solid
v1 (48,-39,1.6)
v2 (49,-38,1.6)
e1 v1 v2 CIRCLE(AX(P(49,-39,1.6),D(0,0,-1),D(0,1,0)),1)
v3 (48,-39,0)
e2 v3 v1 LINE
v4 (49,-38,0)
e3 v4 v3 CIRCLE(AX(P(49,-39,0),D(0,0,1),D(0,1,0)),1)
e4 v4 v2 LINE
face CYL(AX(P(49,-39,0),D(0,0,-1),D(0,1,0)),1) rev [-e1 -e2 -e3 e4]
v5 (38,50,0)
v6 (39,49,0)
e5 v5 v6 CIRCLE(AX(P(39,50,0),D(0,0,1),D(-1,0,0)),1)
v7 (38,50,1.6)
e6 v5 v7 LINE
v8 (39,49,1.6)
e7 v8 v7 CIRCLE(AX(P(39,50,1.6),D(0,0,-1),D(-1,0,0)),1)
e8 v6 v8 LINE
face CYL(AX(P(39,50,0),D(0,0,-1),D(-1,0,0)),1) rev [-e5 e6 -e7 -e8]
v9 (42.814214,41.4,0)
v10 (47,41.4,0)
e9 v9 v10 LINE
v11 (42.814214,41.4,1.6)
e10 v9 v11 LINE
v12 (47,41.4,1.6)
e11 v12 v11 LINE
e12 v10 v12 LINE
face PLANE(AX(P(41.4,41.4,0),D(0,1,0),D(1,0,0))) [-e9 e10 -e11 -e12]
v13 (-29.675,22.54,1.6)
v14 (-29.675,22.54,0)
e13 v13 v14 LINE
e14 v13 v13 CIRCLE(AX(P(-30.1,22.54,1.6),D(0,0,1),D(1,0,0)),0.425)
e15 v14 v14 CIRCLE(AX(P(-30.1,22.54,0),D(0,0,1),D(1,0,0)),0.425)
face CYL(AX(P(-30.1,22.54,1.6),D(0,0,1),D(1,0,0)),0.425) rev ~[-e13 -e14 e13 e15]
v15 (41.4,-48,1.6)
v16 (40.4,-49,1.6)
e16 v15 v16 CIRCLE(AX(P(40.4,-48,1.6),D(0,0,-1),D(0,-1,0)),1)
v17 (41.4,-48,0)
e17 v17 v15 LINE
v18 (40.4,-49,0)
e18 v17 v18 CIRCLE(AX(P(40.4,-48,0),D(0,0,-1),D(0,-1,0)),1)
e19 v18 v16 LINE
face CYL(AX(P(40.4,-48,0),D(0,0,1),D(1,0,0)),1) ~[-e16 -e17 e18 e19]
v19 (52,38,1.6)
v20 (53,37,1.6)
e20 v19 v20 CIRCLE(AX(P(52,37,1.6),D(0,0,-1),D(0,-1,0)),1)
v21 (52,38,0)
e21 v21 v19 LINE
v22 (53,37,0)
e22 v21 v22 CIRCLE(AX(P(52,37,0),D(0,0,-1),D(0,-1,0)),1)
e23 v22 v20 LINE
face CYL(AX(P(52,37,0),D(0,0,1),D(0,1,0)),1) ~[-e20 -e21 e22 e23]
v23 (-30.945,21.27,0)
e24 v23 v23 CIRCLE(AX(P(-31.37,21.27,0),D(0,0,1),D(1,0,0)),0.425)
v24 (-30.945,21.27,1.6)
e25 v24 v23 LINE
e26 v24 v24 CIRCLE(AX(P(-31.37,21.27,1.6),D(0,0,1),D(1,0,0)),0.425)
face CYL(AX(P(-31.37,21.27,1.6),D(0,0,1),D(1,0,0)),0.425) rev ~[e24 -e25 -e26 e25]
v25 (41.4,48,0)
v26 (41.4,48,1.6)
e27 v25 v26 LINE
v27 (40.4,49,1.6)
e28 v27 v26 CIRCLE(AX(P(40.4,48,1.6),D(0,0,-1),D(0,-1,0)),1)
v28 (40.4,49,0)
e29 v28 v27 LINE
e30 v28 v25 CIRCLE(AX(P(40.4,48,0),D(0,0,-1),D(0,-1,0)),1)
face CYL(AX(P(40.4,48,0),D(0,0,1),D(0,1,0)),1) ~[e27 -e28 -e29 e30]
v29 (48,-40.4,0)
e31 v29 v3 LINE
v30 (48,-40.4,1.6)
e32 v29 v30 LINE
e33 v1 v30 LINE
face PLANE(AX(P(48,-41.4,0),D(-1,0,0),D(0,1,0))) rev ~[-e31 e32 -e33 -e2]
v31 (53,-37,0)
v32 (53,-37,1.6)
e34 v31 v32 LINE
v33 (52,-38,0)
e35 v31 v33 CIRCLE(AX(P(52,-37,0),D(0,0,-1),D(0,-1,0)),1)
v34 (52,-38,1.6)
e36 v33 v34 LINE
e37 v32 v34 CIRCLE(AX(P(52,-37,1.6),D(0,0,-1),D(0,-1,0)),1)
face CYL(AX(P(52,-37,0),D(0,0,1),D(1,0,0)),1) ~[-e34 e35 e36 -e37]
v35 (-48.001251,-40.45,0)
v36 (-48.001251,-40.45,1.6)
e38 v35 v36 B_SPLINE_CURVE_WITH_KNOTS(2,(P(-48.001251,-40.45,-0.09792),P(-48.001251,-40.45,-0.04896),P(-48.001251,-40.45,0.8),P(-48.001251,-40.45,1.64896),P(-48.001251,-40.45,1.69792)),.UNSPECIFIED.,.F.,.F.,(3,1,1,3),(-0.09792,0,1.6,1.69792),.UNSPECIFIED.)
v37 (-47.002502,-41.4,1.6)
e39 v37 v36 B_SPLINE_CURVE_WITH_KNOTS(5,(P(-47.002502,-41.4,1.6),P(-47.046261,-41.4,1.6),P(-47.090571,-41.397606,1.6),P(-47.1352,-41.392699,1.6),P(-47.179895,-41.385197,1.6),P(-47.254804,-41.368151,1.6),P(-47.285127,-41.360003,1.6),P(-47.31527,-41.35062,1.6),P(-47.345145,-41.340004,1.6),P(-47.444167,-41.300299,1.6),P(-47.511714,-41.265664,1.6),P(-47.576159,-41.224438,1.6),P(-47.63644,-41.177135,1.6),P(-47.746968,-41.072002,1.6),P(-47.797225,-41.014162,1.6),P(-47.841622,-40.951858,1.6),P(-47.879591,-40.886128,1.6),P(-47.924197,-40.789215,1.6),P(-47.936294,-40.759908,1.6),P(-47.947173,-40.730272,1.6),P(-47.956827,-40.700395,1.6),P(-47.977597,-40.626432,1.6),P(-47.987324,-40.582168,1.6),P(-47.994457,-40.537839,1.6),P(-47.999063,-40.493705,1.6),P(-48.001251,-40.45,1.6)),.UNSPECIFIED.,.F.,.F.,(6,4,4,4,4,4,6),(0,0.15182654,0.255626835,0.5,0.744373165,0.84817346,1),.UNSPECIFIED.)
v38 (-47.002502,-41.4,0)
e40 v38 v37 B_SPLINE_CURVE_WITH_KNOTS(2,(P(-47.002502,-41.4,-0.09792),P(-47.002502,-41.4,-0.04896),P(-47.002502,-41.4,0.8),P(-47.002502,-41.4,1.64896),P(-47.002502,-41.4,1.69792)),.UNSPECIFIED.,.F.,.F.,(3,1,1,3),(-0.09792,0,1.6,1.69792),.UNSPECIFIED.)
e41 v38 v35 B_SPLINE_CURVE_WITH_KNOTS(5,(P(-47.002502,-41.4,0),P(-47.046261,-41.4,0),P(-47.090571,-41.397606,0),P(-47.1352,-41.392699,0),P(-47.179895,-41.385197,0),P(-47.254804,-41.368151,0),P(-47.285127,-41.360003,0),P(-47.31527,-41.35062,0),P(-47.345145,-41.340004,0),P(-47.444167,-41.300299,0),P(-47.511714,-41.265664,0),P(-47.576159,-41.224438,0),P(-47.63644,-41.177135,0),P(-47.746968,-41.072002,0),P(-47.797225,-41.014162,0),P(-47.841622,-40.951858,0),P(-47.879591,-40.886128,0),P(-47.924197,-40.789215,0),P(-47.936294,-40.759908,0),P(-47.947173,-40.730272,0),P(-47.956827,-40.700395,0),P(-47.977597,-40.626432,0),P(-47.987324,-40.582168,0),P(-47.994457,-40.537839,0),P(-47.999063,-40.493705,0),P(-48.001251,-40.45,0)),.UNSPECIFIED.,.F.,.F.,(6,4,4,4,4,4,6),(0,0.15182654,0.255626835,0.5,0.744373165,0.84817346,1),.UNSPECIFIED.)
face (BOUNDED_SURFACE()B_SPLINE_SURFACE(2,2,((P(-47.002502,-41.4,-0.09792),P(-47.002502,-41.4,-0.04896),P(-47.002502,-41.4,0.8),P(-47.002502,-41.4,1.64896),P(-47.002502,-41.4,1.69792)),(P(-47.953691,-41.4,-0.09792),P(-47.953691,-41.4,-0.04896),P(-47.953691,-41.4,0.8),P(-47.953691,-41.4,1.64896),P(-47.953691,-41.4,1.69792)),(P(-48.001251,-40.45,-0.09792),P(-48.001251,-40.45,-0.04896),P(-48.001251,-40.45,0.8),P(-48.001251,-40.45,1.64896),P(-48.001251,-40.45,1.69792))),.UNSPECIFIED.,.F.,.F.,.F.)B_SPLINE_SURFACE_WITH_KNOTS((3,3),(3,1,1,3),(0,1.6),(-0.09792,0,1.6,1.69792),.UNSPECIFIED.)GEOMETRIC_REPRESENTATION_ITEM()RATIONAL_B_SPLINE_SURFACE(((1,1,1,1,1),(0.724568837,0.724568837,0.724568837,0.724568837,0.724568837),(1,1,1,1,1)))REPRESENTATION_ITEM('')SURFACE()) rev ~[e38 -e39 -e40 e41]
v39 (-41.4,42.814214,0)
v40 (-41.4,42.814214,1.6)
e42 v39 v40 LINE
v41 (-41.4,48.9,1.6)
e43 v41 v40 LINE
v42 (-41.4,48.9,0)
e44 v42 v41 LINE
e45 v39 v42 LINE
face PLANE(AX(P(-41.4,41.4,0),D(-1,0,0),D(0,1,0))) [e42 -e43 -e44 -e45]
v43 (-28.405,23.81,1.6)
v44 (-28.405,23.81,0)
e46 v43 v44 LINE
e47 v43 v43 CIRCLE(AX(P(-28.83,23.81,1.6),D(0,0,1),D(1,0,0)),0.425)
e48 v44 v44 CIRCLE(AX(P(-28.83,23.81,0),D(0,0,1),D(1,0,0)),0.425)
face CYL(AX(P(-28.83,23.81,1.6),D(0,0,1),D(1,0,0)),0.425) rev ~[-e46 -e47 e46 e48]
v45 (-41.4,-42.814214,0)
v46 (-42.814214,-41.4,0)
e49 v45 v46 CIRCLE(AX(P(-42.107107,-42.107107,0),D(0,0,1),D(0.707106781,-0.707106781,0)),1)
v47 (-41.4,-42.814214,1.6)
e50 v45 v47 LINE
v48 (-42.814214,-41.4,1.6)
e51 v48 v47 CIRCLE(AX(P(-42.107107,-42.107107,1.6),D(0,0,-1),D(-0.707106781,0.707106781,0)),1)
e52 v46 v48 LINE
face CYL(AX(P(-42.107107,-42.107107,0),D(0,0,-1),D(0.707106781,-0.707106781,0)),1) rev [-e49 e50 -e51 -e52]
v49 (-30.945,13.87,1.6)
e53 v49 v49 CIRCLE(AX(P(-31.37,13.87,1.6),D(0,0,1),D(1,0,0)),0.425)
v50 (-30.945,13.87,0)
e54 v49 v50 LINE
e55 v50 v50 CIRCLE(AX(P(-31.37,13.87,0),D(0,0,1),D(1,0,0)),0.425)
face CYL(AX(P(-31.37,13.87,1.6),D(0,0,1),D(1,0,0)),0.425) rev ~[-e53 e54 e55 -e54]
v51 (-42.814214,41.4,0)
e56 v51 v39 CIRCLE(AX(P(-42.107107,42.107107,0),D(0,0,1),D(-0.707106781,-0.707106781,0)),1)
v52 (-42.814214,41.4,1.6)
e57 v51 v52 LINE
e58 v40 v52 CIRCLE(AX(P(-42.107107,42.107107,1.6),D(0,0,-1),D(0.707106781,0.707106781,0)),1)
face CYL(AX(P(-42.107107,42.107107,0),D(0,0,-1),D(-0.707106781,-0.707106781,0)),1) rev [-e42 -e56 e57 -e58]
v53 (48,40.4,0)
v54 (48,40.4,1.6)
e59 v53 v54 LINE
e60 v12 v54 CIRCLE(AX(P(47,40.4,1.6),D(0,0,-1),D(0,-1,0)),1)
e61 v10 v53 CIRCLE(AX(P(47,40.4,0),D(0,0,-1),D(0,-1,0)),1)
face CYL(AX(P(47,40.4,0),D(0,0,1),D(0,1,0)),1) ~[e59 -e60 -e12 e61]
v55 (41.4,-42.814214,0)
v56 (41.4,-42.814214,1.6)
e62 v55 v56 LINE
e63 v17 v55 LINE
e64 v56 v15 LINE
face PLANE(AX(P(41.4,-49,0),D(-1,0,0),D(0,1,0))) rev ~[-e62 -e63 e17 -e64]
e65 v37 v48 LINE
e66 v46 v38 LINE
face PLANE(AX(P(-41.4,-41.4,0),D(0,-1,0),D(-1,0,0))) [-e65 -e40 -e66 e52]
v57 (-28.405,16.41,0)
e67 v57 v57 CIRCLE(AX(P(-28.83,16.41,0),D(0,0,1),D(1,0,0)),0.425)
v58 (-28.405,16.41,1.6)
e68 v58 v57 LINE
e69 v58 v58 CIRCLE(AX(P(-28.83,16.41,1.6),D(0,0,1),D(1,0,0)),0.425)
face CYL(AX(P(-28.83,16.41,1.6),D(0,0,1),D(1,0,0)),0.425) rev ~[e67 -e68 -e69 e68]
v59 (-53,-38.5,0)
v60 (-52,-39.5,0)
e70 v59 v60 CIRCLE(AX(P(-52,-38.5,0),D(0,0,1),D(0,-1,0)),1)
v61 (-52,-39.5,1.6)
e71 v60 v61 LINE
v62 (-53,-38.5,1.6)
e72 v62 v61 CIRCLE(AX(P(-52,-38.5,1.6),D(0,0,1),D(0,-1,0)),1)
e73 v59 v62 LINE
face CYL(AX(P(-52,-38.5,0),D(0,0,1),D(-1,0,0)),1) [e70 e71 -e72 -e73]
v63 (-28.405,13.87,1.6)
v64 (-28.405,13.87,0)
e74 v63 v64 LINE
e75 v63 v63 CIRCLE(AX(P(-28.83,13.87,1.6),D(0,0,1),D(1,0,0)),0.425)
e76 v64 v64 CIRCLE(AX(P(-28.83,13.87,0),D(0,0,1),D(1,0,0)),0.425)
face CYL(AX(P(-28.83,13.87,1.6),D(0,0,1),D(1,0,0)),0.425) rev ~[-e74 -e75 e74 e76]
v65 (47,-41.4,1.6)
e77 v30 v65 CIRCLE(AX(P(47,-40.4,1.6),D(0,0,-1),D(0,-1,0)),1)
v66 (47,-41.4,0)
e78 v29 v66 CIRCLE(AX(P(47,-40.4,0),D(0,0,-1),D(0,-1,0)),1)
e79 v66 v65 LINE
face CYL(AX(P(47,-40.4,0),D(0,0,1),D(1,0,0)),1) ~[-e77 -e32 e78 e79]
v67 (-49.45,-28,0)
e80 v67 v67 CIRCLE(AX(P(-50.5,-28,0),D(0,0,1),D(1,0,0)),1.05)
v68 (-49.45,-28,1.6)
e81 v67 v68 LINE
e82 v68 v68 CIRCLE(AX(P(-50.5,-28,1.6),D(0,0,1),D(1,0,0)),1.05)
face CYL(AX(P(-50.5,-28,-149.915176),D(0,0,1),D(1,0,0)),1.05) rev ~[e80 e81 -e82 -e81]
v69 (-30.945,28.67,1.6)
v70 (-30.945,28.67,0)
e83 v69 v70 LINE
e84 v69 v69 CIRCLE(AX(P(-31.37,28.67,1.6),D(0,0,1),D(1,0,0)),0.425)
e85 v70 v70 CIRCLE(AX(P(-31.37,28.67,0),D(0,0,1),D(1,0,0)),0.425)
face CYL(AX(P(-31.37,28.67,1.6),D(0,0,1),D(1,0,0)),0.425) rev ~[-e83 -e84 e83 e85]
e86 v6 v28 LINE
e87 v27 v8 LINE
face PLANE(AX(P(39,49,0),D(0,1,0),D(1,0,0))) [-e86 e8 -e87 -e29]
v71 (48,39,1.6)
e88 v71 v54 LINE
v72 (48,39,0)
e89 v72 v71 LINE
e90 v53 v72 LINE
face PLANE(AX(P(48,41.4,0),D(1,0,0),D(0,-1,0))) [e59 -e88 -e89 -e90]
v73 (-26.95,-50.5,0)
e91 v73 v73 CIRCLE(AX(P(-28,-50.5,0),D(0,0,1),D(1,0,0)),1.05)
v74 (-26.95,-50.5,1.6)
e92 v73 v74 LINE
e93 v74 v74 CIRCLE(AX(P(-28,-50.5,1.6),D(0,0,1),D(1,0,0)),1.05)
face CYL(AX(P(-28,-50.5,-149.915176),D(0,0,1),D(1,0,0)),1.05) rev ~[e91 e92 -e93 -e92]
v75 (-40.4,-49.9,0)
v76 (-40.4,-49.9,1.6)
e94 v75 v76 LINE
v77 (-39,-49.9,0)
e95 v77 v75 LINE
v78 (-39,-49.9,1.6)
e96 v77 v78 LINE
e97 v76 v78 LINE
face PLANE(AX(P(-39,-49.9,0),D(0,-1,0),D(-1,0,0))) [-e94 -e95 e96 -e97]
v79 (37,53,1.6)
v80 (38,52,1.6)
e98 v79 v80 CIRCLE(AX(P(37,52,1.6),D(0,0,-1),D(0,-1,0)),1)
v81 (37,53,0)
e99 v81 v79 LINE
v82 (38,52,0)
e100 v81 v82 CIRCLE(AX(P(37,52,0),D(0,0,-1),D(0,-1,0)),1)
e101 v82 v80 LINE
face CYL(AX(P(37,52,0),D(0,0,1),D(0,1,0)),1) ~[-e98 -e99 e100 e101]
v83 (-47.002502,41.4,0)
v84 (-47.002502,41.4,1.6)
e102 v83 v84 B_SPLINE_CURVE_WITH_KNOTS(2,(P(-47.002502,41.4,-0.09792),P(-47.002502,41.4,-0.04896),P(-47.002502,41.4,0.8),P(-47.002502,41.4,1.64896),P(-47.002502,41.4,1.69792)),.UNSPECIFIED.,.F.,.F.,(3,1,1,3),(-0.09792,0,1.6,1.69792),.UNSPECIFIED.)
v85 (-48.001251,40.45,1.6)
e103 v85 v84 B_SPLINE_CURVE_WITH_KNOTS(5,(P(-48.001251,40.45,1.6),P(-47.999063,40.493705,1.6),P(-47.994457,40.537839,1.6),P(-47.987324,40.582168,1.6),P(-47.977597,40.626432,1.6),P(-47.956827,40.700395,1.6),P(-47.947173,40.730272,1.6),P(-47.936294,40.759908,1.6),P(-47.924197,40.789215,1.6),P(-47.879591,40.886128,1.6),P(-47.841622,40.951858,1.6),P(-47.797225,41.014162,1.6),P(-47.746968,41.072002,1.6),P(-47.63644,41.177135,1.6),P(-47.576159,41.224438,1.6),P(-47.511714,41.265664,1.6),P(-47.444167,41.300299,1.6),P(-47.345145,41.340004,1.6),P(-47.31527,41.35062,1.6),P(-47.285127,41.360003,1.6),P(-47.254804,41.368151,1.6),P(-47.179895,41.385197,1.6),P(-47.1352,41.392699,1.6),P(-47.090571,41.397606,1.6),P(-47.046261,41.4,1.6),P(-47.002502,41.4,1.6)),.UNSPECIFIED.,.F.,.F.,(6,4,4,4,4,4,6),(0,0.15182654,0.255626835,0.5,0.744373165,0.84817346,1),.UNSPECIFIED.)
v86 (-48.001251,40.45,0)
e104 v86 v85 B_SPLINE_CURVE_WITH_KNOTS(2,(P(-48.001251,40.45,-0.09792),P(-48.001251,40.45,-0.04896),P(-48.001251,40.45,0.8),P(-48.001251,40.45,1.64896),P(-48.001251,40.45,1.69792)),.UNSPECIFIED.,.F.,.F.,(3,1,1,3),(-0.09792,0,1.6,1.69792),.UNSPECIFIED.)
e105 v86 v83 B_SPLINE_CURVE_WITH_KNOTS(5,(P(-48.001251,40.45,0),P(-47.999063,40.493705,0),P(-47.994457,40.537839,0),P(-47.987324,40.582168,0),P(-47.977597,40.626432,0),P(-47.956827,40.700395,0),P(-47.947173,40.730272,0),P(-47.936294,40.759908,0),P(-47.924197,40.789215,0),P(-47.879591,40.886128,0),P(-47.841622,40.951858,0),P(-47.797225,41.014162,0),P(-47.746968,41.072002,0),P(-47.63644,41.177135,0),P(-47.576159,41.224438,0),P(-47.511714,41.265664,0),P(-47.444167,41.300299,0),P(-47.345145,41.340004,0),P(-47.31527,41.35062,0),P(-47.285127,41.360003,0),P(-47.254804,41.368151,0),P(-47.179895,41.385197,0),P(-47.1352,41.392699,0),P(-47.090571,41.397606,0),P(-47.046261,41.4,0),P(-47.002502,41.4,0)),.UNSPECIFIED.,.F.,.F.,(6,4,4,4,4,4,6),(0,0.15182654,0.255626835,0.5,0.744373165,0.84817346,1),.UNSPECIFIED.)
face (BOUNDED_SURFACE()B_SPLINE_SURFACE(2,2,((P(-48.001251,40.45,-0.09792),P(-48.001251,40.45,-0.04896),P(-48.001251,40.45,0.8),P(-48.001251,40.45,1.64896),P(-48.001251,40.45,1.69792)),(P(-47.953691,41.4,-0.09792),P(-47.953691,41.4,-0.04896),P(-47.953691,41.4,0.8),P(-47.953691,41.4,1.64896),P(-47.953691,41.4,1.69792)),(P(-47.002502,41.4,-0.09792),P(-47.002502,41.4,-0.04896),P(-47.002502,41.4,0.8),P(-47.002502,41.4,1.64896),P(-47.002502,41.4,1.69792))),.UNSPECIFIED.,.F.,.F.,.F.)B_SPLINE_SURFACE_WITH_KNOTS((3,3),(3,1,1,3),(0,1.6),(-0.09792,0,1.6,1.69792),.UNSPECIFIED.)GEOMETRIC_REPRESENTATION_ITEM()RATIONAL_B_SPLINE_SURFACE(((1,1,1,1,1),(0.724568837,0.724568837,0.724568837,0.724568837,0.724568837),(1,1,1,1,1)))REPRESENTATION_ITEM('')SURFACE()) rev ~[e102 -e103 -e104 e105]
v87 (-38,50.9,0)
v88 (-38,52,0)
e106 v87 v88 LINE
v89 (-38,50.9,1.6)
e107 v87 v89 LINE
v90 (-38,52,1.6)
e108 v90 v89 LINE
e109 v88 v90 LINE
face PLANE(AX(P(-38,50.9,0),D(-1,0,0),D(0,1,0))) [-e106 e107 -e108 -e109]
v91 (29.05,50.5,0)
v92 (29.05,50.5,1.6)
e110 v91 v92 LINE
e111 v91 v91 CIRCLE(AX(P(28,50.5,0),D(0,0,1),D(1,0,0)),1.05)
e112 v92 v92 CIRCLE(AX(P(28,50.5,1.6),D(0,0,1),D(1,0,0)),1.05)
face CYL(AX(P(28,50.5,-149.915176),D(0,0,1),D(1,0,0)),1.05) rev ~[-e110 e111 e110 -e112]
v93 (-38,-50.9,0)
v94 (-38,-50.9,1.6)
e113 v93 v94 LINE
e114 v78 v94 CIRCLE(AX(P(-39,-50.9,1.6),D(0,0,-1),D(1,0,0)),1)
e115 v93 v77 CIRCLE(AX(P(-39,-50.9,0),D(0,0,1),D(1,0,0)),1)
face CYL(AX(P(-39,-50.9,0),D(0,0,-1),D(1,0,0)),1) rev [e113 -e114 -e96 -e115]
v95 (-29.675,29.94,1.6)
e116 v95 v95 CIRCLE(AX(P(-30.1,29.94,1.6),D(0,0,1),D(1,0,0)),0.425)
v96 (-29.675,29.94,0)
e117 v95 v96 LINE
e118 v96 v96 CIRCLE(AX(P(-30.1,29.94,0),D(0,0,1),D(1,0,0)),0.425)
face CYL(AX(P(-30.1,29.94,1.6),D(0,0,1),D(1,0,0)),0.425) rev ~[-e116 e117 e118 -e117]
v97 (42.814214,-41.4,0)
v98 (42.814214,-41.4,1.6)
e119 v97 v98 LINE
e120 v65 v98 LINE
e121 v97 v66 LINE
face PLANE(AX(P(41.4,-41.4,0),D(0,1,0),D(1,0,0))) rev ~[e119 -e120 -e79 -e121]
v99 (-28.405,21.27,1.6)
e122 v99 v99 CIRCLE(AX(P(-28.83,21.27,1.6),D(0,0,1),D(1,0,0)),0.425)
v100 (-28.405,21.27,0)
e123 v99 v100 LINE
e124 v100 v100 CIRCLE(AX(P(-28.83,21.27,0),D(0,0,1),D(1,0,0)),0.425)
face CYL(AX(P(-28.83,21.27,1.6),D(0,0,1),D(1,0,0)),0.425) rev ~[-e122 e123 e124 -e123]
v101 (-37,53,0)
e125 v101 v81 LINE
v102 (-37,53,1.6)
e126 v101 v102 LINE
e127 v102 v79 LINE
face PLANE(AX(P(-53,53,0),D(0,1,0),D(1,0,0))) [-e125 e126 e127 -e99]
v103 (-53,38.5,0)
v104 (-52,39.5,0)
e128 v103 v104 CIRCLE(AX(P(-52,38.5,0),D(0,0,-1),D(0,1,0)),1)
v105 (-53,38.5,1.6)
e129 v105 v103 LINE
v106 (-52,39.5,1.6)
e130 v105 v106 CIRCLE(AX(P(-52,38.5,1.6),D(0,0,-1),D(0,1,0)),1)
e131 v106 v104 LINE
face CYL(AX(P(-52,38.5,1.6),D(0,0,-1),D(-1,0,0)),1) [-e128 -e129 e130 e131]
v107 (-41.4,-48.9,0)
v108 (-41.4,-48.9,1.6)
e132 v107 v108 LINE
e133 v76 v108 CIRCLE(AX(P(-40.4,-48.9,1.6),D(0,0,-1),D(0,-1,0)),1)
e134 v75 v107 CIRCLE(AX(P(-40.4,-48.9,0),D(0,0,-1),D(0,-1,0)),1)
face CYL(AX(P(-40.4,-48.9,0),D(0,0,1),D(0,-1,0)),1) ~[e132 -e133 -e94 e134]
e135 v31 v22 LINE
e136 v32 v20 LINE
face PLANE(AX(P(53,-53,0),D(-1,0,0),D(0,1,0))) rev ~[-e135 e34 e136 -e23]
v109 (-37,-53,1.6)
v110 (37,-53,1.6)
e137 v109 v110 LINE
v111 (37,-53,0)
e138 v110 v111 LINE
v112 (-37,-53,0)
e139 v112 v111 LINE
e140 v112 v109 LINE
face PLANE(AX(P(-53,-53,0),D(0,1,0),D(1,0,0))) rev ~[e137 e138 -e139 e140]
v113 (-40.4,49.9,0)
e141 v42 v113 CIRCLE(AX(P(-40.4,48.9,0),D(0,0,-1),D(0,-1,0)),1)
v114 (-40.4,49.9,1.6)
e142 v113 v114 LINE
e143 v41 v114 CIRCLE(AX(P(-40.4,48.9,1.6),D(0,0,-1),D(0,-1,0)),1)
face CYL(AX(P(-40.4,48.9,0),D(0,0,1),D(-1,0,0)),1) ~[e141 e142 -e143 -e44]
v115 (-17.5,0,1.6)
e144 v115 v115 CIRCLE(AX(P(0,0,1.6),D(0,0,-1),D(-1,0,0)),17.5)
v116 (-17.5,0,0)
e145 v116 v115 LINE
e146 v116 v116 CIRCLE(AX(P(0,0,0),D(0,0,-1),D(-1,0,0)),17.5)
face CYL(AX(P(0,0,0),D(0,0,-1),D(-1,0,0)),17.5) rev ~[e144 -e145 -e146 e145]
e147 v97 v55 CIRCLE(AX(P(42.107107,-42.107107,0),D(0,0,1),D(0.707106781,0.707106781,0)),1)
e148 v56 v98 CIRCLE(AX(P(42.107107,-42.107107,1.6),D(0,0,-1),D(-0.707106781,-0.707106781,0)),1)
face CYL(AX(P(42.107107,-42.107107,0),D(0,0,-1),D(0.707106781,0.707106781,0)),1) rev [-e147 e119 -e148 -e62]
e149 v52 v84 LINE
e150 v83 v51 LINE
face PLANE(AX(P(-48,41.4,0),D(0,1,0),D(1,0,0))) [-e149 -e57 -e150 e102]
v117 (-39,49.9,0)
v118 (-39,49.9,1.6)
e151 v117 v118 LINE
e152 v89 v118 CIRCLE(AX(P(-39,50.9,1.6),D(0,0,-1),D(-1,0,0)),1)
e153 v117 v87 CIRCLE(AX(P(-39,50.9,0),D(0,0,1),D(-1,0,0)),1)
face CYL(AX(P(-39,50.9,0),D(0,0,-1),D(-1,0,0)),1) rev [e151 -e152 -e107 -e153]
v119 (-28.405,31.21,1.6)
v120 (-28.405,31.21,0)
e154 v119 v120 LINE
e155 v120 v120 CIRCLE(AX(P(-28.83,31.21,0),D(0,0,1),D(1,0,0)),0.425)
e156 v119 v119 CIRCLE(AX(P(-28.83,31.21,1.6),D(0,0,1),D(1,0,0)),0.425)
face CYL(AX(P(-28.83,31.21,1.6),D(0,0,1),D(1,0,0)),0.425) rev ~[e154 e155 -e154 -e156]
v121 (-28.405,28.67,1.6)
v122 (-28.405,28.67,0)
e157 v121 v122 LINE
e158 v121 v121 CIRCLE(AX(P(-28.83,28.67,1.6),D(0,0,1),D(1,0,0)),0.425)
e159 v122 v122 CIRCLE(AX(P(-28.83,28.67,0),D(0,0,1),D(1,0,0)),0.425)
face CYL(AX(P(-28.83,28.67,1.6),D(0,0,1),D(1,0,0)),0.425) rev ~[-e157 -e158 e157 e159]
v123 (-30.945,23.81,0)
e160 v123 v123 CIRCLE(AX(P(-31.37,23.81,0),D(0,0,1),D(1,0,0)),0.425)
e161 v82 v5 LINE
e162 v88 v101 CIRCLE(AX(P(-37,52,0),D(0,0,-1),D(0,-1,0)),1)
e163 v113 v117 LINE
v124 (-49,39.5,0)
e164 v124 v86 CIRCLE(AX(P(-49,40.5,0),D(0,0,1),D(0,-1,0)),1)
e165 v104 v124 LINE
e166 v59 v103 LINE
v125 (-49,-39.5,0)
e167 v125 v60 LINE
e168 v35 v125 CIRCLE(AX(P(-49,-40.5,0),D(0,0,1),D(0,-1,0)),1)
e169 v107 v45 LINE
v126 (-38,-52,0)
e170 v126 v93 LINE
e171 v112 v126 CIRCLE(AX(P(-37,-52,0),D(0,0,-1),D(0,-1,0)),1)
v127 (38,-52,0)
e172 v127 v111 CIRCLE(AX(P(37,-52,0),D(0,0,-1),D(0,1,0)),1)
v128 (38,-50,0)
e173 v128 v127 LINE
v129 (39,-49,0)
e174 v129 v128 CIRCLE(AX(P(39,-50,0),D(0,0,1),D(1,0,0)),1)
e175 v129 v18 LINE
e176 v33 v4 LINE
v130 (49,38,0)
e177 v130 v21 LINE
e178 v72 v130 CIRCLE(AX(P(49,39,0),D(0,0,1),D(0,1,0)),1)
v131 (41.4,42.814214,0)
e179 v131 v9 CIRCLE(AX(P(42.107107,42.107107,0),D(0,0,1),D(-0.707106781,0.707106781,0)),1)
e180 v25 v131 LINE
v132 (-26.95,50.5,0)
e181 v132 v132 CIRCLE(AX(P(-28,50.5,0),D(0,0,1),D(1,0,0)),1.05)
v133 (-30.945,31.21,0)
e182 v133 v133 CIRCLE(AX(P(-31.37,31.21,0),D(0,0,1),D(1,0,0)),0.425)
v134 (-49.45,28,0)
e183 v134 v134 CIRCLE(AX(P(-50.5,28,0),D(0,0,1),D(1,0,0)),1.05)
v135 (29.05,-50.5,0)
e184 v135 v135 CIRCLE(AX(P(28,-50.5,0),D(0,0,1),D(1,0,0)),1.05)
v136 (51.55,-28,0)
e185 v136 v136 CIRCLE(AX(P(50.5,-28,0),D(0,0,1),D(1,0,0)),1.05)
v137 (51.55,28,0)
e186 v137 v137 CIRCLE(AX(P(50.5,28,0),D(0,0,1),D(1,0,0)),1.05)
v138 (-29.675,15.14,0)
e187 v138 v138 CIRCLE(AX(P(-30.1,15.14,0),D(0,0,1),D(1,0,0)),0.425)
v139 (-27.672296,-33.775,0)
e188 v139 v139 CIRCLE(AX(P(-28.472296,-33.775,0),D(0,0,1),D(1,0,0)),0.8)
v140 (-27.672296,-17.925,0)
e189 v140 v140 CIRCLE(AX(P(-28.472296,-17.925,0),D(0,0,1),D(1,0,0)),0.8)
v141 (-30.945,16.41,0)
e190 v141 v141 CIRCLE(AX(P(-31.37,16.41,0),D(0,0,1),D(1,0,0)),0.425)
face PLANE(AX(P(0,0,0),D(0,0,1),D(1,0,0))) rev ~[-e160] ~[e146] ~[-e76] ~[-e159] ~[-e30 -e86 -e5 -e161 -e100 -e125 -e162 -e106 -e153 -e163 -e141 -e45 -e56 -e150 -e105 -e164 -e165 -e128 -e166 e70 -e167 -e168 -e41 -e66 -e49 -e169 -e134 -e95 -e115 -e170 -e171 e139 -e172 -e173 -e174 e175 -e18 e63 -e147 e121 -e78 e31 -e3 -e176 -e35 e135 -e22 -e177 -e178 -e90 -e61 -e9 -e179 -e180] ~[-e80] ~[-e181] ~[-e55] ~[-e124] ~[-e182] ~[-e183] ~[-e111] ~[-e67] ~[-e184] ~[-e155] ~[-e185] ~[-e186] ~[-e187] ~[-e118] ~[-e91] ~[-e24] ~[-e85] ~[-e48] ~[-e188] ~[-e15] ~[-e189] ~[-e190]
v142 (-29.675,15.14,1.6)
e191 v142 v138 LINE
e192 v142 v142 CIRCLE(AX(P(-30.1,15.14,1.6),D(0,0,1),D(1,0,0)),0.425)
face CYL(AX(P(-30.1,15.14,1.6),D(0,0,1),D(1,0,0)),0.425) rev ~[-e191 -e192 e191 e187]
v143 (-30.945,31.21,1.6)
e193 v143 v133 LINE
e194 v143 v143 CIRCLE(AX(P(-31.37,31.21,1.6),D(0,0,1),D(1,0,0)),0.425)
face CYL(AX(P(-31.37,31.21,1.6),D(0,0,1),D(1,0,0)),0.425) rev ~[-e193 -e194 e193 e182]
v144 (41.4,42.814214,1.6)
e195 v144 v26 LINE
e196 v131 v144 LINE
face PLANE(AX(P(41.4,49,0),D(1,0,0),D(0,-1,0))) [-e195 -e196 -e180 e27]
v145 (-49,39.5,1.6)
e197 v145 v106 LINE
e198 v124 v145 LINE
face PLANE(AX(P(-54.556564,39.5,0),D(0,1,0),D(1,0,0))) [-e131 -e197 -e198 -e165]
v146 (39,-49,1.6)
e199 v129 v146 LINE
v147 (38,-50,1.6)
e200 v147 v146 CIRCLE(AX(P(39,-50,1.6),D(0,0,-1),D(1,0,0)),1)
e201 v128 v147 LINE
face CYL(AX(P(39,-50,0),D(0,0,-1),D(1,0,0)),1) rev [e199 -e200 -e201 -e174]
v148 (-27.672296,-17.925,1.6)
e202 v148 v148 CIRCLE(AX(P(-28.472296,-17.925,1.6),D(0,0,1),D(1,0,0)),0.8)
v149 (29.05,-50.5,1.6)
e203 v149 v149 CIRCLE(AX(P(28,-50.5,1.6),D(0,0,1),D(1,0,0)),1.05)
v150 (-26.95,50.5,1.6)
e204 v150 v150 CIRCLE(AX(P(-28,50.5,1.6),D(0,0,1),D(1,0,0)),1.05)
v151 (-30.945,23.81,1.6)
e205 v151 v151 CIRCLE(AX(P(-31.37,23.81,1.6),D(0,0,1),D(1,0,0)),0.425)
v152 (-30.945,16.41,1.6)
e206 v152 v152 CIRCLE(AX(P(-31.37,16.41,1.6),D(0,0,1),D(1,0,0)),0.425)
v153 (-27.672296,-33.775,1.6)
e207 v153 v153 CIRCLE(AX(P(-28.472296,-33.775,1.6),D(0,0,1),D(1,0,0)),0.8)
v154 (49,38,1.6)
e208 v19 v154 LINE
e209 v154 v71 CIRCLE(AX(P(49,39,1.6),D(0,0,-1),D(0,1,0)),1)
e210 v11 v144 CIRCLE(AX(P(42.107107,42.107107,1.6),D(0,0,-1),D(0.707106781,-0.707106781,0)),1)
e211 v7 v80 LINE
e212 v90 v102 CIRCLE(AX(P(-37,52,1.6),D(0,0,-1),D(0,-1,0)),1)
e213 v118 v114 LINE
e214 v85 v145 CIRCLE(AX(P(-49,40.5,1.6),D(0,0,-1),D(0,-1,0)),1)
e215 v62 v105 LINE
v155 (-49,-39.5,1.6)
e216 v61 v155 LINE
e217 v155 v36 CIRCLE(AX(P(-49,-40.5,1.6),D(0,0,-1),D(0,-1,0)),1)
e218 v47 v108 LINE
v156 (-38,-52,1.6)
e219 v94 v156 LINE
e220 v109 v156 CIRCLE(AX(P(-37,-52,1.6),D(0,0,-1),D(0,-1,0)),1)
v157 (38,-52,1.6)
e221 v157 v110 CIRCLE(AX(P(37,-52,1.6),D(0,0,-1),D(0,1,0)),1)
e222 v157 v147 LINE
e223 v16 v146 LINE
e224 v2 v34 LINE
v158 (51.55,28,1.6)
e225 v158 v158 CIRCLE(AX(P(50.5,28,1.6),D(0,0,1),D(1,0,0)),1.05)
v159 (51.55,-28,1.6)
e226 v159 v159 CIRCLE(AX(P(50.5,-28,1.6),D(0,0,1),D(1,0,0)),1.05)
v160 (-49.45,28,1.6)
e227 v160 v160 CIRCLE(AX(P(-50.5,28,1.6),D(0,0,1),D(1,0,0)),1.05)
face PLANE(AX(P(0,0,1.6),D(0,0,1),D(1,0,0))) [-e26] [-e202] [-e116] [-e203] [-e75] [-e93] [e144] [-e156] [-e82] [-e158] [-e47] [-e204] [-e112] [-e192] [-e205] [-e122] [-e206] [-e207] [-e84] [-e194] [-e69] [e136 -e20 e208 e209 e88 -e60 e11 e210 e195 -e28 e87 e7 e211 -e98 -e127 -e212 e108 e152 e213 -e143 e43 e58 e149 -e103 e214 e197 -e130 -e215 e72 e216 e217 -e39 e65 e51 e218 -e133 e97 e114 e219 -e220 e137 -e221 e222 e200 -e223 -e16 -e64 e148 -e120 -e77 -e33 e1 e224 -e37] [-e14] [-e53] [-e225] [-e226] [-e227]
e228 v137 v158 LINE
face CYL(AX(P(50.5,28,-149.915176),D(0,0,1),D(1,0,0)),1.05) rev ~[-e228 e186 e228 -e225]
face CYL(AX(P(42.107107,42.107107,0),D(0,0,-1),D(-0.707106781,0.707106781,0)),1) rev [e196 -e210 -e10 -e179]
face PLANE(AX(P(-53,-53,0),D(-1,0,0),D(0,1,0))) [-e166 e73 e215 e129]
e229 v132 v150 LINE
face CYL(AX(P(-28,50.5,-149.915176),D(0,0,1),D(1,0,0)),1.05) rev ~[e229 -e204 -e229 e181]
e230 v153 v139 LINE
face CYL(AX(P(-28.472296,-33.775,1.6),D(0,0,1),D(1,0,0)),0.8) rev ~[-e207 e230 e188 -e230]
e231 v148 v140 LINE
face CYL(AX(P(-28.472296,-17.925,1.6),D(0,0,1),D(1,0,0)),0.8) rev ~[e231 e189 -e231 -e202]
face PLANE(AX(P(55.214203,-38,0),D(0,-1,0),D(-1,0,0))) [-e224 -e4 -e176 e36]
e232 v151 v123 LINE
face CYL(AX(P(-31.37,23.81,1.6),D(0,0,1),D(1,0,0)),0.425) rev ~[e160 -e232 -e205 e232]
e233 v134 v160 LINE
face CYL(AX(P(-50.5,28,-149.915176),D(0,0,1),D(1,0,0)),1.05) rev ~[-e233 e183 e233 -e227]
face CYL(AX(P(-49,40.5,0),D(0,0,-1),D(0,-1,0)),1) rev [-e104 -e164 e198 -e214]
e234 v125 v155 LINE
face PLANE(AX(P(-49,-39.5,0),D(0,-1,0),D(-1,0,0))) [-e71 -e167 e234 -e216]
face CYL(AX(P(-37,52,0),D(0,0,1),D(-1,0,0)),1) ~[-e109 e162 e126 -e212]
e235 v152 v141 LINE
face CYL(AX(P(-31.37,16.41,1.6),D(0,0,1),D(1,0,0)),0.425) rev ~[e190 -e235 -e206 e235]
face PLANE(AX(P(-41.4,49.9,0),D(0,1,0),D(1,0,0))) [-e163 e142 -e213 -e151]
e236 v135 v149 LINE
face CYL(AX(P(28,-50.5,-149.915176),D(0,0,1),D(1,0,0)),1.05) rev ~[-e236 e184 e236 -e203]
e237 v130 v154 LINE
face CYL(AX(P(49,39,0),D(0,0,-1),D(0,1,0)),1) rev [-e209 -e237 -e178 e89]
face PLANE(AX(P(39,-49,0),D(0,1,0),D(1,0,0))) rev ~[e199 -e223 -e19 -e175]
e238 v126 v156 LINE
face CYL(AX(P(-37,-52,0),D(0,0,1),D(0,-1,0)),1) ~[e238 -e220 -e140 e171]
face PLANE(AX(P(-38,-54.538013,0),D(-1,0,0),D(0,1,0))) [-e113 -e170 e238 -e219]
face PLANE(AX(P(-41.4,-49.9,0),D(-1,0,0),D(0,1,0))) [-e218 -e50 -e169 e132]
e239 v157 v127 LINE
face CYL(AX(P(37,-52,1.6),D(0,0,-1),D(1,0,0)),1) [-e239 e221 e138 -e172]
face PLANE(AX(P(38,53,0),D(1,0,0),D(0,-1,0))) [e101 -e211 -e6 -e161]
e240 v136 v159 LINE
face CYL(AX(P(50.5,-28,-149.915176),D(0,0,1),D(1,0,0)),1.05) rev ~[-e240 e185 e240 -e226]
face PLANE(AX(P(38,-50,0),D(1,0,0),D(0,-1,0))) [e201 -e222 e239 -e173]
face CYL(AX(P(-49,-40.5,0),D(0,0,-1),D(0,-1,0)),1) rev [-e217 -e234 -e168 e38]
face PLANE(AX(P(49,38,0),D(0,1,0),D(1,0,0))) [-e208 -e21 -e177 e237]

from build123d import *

# Parameters (mm, degrees)
SKETCH1_W            = 106
SKETCH1_H            = 106
MAINOUTLINE_DEPTH    = 1.6
RAILCUTOUTS_DEPTH    = 75.970394157
DOGBONES_DEPTH       = 75.970394157
SOLARFILLETS_DEPTH   = 75.970394157
HANDLINGFILLETS_R    = 1
SKETCH7_R            = 0.8
SKETCH7_R_2          = 0.425
CONNECTORHOLES_DEPTH = 75.9703943
M2_CLEARANCE_HOLE1_D = 2.1
SKETCH10_R           = 17.5
CUT_EXTRUDE1_DEPTH   = 75.9703943


with BuildPart() as part:
    # Sketch1 → mainOutline (new body)
    with BuildSketch(Plane.XY):
        Rectangle(SKETCH1_W, SKETCH1_H)
    extrude(amount=MAINOUTLINE_DEPTH)

    # Sketch4 → railCutouts (cut, through all)
    with BuildSketch(Plane(origin=(0, 0, 0), x_dir=(-1, 0, 0), z_dir=(0, 0, -1))):
        Polygon((-41.4, -41.4), (-48, -41.4), (-48, -39), (-49.9975, -39), (-60.106513243, -39), (-60.106513243, -61.452099286), (-39, -61.452099286), (-39, -49.9), (-39, -49), (-41.4, -49), align=None)
        Polygon((39, -56.27525328), (39, -49.9), (41.4, -49.9), (41.4, -41.4), (48, -41.4), (48, -40.5), (55.517672261, -40.5), (55.517672261, -56.27525328), align=None)
        Polygon((55.383846757, 40.5), (48, 40.5), (48, 41.4), (41.4, 41.4), (41.4, 49.9), (39, 49.9), (39, 57.687687567), (55.383846757, 57.687687567), align=None)
        Polygon((-39, 59.880423019), (-39, 49.9), (-39, 49), (-41.4, 49), (-41.4, 41.4), (-48, 41.4), (-48, 39), (-49.9975, 39), (-56.842822937, 39), (-56.842822937, 59.880423019), align=None)
    extrude(amount=-RAILCUTOUTS_DEPTH, mode=Mode.SUBTRACT)

    # Sketch5 → dogbones (cut, through all)
    with BuildSketch(Plane(origin=(0, 0, 0), x_dir=(-1, 0, 0), z_dir=(0, 0, -1))):
        with BuildLine():
            Line((-41.4, -42.814213562), (-44.73741596, -46.151629522))
            ThreePointArc((-44.73741596, -46.151629522), (-46.151629522, -46.151629522), (-46.151629522, -44.73741596))
            Line((-46.151629522, -44.73741596), (-42.814213562, -41.4))
            ThreePointArc((-42.814213562, -41.4), (-41.4, -41.4), (-41.4, -42.814213562))
        make_face()
        with BuildLine():
            Line((42.814213562, -41.4), (44.747298889, -43.333085326))
            ThreePointArc((44.747298889, -43.333085326), (44.747298889, -44.747298889), (43.333085326, -44.747298889))
            Line((43.333085326, -44.747298889), (41.4, -42.814213562))
            ThreePointArc((41.4, -42.814213562), (41.4, -41.4), (42.814213562, -41.4))
        make_face()
        with BuildLine():
            Line((41.4, 42.814213562), (43.321909081, 44.736122643))
            ThreePointArc((43.321909081, 44.736122643), (44.736122643, 44.736122643), (44.736122643, 43.321909081))
            Line((44.736122643, 43.321909081), (42.814213562, 41.4))
            ThreePointArc((42.814213562, 41.4), (41.4, 41.4), (41.4, 42.814213562))
        make_face()
        with BuildLine():
            Line((-42.814213562, 41.4), (-44.503927418, 43.089713856))
            ThreePointArc((-44.503927418, 43.089713856), (-44.503927418, 44.503927418), (-43.089713856, 44.503927418))
            Line((-43.089713856, 44.503927418), (-41.4, 42.814213562))
            ThreePointArc((-41.4, 42.814213562), (-41.4, 41.4), (-42.814213562, 41.4))
        make_face()
    extrude(amount=-DOGBONES_DEPTH, mode=Mode.SUBTRACT)

    # Sketch6 → solarFillets (cut, through all)
    with BuildSketch(Plane(origin=(0, 0, 0), x_dir=(-1, 0, 0), z_dir=(0, 0, -1))):
        with BuildLine():
            Line((-40, 50), (-40, 53))
            ThreePointArc((-40, 53), (-39, 54), (-38, 53))
            Line((-38, 53), (-38, 50))
            ThreePointArc((-38, 50), (-39, 49), (-40, 50))
        make_face()
        with BuildLine():
            Line((-49, 38), (-53, 38))
            ThreePointArc((-53, 38), (-54, 39), (-53, 40))
            Line((-53, 40), (-49, 40))
            ThreePointArc((-49, 40), (-48, 39), (-49, 38))
        make_face()
        with BuildLine():
            Line((-49, -40), (-55.214202913, -40))
            ThreePointArc((-55.214202913, -40), (-56.214202913, -39), (-55.214202913, -38))
            Line((-55.214202913, -38), (-49, -38))
            ThreePointArc((-49, -38), (-48, -39), (-49, -40))
        make_face()
        with BuildLine():
            Line((-38, -50), (-38, -53.916094318))
            ThreePointArc((-38, -53.916094318), (-39, -54.916094318), (-40, -53.916094318))
            Line((-40, -53.916094318), (-40, -50))
            ThreePointArc((-40, -50), (-39, -49), (-38, -50))
        make_face()
        with BuildLine():
            Line((40, -50.9), (40, -54.538013421))
            ThreePointArc((40, -54.538013421), (39, -55.538013421), (38, -54.538013421))
            Line((38, -54.538013421), (38, -50.9))
            ThreePointArc((38, -50.9), (39, -49.9), (40, -50.9))
        make_face()
        with BuildLine():
            Line((49, -39.5), (54.202622605, -39.5))
            ThreePointArc((54.202622605, -39.5), (55.202622605, -40.5), (54.202622605, -41.5))
            Line((54.202622605, -41.5), (49, -41.5))
            ThreePointArc((49, -41.5), (48, -40.5), (49, -39.5))
        make_face()
        with BuildLine():
            Line((49, 41.5), (54.556563772, 41.5))
            ThreePointArc((54.556563772, 41.5), (55.556563772, 40.5), (54.556563772, 39.5))
            Line((54.556563772, 39.5), (49, 39.5))
            ThreePointArc((49, 39.5), (48, 40.5), (49, 41.5))
        make_face()
        with BuildLine():
            Line((38, 50.9), (38, 55.828092709))
            ThreePointArc((38, 55.828092709), (39, 56.828092709), (40, 55.828092709))
            Line((40, 55.828092709), (40, 50.9))
            ThreePointArc((40, 50.9), (39, 49.9), (38, 50.9))
        make_face()
    extrude(amount=-SOLARFILLETS_DEPTH, mode=Mode.SUBTRACT)

    # handlingFillets
    handlingfillets_edges = [part.edges().sort_by_distance(p)[0] for p in [
        (-41.4, -49.9, 0.8),
        (-38, -53, 0.8),
        (-53, -39.5, 0.8),
        (-48, -41.4, 0.8),
        (-48, 41.4, 0.8),
        (-53, 39.5, 0.8),
        (-41.4, 49.9, 0.8),
        (-38, 53, 0.8),
        (38, 53, 0.8),
        (41.4, 49, 0.8),
        (48, 41.4, 0.8),
        (53, 38, 0.8),
        (53, -38, 0.8),
        (48, -41.4, 0.8),
        (41.4, -49, 0.8),
        (38, -53, 0.8),
    ]]
    fillet(handlingfillets_edges, radius=HANDLINGFILLETS_R)

    # Sketch7 → connectorHoles (cut, through all)
    with BuildSketch(Plane.XY.offset(1.6)):
        with Locations((-28.472296419, -17.925)):
            Circle(SKETCH7_R)
        with Locations((-28.472296419, -33.775)):
            Circle(SKETCH7_R)
        with Locations((-31.37, 28.67)):
            Circle(SKETCH7_R_2)
        with Locations((-28.83, 28.67)):
            Circle(SKETCH7_R_2)
        with Locations((-30.1, 29.94)):
            Circle(SKETCH7_R_2)
        with Locations((-28.83, 31.21)):
            Circle(SKETCH7_R_2)
        with Locations((-31.37, 31.21)):
            Circle(SKETCH7_R_2)
        with Locations((-31.37, 21.27)):
            Circle(SKETCH7_R_2)
        with Locations((-28.83, 21.27)):
            Circle(SKETCH7_R_2)
        with Locations((-30.1, 22.54)):
            Circle(SKETCH7_R_2)
        with Locations((-28.83, 23.81)):
            Circle(SKETCH7_R_2)
        with Locations((-31.37, 23.81)):
            Circle(SKETCH7_R_2)
        with Locations((-31.37, 13.87)):
            Circle(SKETCH7_R_2)
        with Locations((-28.83, 13.87)):
            Circle(SKETCH7_R_2)
        with Locations((-30.1, 15.14)):
            Circle(SKETCH7_R_2)
        with Locations((-28.83, 16.41)):
            Circle(SKETCH7_R_2)
        with Locations((-31.37, 16.41)):
            Circle(SKETCH7_R_2)
    extrude(amount=-CONNECTORHOLES_DEPTH, mode=Mode.SUBTRACT)

    # M2 Clearance Hole1 (through all)
    with Locations(Plane(origin=(0, 0, 0), x_dir=(-1, 0, 0), z_dir=(0, 0, -1))):
        with Locations((50.5, -28), (28, -50.5), (-50.5, -28), (-28, -50.5), (-28, 50.5), (-50.5, 28), (28, 50.5), (50.5, 28)):
            Hole(M2_CLEARANCE_HOLE1_D / 2)

    # Sketch10 → Cut-Extrude1 (cut, through all)
    with BuildSketch(Plane(origin=(0, 0, 0), x_dir=(-1, 0, 0), z_dir=(0, 0, -1))):
        Circle(SKETCH10_R)
    extrude(amount=-CUT_EXTRUDE1_DEPTH, mode=Mode.SUBTRACT)


solid = part.part
